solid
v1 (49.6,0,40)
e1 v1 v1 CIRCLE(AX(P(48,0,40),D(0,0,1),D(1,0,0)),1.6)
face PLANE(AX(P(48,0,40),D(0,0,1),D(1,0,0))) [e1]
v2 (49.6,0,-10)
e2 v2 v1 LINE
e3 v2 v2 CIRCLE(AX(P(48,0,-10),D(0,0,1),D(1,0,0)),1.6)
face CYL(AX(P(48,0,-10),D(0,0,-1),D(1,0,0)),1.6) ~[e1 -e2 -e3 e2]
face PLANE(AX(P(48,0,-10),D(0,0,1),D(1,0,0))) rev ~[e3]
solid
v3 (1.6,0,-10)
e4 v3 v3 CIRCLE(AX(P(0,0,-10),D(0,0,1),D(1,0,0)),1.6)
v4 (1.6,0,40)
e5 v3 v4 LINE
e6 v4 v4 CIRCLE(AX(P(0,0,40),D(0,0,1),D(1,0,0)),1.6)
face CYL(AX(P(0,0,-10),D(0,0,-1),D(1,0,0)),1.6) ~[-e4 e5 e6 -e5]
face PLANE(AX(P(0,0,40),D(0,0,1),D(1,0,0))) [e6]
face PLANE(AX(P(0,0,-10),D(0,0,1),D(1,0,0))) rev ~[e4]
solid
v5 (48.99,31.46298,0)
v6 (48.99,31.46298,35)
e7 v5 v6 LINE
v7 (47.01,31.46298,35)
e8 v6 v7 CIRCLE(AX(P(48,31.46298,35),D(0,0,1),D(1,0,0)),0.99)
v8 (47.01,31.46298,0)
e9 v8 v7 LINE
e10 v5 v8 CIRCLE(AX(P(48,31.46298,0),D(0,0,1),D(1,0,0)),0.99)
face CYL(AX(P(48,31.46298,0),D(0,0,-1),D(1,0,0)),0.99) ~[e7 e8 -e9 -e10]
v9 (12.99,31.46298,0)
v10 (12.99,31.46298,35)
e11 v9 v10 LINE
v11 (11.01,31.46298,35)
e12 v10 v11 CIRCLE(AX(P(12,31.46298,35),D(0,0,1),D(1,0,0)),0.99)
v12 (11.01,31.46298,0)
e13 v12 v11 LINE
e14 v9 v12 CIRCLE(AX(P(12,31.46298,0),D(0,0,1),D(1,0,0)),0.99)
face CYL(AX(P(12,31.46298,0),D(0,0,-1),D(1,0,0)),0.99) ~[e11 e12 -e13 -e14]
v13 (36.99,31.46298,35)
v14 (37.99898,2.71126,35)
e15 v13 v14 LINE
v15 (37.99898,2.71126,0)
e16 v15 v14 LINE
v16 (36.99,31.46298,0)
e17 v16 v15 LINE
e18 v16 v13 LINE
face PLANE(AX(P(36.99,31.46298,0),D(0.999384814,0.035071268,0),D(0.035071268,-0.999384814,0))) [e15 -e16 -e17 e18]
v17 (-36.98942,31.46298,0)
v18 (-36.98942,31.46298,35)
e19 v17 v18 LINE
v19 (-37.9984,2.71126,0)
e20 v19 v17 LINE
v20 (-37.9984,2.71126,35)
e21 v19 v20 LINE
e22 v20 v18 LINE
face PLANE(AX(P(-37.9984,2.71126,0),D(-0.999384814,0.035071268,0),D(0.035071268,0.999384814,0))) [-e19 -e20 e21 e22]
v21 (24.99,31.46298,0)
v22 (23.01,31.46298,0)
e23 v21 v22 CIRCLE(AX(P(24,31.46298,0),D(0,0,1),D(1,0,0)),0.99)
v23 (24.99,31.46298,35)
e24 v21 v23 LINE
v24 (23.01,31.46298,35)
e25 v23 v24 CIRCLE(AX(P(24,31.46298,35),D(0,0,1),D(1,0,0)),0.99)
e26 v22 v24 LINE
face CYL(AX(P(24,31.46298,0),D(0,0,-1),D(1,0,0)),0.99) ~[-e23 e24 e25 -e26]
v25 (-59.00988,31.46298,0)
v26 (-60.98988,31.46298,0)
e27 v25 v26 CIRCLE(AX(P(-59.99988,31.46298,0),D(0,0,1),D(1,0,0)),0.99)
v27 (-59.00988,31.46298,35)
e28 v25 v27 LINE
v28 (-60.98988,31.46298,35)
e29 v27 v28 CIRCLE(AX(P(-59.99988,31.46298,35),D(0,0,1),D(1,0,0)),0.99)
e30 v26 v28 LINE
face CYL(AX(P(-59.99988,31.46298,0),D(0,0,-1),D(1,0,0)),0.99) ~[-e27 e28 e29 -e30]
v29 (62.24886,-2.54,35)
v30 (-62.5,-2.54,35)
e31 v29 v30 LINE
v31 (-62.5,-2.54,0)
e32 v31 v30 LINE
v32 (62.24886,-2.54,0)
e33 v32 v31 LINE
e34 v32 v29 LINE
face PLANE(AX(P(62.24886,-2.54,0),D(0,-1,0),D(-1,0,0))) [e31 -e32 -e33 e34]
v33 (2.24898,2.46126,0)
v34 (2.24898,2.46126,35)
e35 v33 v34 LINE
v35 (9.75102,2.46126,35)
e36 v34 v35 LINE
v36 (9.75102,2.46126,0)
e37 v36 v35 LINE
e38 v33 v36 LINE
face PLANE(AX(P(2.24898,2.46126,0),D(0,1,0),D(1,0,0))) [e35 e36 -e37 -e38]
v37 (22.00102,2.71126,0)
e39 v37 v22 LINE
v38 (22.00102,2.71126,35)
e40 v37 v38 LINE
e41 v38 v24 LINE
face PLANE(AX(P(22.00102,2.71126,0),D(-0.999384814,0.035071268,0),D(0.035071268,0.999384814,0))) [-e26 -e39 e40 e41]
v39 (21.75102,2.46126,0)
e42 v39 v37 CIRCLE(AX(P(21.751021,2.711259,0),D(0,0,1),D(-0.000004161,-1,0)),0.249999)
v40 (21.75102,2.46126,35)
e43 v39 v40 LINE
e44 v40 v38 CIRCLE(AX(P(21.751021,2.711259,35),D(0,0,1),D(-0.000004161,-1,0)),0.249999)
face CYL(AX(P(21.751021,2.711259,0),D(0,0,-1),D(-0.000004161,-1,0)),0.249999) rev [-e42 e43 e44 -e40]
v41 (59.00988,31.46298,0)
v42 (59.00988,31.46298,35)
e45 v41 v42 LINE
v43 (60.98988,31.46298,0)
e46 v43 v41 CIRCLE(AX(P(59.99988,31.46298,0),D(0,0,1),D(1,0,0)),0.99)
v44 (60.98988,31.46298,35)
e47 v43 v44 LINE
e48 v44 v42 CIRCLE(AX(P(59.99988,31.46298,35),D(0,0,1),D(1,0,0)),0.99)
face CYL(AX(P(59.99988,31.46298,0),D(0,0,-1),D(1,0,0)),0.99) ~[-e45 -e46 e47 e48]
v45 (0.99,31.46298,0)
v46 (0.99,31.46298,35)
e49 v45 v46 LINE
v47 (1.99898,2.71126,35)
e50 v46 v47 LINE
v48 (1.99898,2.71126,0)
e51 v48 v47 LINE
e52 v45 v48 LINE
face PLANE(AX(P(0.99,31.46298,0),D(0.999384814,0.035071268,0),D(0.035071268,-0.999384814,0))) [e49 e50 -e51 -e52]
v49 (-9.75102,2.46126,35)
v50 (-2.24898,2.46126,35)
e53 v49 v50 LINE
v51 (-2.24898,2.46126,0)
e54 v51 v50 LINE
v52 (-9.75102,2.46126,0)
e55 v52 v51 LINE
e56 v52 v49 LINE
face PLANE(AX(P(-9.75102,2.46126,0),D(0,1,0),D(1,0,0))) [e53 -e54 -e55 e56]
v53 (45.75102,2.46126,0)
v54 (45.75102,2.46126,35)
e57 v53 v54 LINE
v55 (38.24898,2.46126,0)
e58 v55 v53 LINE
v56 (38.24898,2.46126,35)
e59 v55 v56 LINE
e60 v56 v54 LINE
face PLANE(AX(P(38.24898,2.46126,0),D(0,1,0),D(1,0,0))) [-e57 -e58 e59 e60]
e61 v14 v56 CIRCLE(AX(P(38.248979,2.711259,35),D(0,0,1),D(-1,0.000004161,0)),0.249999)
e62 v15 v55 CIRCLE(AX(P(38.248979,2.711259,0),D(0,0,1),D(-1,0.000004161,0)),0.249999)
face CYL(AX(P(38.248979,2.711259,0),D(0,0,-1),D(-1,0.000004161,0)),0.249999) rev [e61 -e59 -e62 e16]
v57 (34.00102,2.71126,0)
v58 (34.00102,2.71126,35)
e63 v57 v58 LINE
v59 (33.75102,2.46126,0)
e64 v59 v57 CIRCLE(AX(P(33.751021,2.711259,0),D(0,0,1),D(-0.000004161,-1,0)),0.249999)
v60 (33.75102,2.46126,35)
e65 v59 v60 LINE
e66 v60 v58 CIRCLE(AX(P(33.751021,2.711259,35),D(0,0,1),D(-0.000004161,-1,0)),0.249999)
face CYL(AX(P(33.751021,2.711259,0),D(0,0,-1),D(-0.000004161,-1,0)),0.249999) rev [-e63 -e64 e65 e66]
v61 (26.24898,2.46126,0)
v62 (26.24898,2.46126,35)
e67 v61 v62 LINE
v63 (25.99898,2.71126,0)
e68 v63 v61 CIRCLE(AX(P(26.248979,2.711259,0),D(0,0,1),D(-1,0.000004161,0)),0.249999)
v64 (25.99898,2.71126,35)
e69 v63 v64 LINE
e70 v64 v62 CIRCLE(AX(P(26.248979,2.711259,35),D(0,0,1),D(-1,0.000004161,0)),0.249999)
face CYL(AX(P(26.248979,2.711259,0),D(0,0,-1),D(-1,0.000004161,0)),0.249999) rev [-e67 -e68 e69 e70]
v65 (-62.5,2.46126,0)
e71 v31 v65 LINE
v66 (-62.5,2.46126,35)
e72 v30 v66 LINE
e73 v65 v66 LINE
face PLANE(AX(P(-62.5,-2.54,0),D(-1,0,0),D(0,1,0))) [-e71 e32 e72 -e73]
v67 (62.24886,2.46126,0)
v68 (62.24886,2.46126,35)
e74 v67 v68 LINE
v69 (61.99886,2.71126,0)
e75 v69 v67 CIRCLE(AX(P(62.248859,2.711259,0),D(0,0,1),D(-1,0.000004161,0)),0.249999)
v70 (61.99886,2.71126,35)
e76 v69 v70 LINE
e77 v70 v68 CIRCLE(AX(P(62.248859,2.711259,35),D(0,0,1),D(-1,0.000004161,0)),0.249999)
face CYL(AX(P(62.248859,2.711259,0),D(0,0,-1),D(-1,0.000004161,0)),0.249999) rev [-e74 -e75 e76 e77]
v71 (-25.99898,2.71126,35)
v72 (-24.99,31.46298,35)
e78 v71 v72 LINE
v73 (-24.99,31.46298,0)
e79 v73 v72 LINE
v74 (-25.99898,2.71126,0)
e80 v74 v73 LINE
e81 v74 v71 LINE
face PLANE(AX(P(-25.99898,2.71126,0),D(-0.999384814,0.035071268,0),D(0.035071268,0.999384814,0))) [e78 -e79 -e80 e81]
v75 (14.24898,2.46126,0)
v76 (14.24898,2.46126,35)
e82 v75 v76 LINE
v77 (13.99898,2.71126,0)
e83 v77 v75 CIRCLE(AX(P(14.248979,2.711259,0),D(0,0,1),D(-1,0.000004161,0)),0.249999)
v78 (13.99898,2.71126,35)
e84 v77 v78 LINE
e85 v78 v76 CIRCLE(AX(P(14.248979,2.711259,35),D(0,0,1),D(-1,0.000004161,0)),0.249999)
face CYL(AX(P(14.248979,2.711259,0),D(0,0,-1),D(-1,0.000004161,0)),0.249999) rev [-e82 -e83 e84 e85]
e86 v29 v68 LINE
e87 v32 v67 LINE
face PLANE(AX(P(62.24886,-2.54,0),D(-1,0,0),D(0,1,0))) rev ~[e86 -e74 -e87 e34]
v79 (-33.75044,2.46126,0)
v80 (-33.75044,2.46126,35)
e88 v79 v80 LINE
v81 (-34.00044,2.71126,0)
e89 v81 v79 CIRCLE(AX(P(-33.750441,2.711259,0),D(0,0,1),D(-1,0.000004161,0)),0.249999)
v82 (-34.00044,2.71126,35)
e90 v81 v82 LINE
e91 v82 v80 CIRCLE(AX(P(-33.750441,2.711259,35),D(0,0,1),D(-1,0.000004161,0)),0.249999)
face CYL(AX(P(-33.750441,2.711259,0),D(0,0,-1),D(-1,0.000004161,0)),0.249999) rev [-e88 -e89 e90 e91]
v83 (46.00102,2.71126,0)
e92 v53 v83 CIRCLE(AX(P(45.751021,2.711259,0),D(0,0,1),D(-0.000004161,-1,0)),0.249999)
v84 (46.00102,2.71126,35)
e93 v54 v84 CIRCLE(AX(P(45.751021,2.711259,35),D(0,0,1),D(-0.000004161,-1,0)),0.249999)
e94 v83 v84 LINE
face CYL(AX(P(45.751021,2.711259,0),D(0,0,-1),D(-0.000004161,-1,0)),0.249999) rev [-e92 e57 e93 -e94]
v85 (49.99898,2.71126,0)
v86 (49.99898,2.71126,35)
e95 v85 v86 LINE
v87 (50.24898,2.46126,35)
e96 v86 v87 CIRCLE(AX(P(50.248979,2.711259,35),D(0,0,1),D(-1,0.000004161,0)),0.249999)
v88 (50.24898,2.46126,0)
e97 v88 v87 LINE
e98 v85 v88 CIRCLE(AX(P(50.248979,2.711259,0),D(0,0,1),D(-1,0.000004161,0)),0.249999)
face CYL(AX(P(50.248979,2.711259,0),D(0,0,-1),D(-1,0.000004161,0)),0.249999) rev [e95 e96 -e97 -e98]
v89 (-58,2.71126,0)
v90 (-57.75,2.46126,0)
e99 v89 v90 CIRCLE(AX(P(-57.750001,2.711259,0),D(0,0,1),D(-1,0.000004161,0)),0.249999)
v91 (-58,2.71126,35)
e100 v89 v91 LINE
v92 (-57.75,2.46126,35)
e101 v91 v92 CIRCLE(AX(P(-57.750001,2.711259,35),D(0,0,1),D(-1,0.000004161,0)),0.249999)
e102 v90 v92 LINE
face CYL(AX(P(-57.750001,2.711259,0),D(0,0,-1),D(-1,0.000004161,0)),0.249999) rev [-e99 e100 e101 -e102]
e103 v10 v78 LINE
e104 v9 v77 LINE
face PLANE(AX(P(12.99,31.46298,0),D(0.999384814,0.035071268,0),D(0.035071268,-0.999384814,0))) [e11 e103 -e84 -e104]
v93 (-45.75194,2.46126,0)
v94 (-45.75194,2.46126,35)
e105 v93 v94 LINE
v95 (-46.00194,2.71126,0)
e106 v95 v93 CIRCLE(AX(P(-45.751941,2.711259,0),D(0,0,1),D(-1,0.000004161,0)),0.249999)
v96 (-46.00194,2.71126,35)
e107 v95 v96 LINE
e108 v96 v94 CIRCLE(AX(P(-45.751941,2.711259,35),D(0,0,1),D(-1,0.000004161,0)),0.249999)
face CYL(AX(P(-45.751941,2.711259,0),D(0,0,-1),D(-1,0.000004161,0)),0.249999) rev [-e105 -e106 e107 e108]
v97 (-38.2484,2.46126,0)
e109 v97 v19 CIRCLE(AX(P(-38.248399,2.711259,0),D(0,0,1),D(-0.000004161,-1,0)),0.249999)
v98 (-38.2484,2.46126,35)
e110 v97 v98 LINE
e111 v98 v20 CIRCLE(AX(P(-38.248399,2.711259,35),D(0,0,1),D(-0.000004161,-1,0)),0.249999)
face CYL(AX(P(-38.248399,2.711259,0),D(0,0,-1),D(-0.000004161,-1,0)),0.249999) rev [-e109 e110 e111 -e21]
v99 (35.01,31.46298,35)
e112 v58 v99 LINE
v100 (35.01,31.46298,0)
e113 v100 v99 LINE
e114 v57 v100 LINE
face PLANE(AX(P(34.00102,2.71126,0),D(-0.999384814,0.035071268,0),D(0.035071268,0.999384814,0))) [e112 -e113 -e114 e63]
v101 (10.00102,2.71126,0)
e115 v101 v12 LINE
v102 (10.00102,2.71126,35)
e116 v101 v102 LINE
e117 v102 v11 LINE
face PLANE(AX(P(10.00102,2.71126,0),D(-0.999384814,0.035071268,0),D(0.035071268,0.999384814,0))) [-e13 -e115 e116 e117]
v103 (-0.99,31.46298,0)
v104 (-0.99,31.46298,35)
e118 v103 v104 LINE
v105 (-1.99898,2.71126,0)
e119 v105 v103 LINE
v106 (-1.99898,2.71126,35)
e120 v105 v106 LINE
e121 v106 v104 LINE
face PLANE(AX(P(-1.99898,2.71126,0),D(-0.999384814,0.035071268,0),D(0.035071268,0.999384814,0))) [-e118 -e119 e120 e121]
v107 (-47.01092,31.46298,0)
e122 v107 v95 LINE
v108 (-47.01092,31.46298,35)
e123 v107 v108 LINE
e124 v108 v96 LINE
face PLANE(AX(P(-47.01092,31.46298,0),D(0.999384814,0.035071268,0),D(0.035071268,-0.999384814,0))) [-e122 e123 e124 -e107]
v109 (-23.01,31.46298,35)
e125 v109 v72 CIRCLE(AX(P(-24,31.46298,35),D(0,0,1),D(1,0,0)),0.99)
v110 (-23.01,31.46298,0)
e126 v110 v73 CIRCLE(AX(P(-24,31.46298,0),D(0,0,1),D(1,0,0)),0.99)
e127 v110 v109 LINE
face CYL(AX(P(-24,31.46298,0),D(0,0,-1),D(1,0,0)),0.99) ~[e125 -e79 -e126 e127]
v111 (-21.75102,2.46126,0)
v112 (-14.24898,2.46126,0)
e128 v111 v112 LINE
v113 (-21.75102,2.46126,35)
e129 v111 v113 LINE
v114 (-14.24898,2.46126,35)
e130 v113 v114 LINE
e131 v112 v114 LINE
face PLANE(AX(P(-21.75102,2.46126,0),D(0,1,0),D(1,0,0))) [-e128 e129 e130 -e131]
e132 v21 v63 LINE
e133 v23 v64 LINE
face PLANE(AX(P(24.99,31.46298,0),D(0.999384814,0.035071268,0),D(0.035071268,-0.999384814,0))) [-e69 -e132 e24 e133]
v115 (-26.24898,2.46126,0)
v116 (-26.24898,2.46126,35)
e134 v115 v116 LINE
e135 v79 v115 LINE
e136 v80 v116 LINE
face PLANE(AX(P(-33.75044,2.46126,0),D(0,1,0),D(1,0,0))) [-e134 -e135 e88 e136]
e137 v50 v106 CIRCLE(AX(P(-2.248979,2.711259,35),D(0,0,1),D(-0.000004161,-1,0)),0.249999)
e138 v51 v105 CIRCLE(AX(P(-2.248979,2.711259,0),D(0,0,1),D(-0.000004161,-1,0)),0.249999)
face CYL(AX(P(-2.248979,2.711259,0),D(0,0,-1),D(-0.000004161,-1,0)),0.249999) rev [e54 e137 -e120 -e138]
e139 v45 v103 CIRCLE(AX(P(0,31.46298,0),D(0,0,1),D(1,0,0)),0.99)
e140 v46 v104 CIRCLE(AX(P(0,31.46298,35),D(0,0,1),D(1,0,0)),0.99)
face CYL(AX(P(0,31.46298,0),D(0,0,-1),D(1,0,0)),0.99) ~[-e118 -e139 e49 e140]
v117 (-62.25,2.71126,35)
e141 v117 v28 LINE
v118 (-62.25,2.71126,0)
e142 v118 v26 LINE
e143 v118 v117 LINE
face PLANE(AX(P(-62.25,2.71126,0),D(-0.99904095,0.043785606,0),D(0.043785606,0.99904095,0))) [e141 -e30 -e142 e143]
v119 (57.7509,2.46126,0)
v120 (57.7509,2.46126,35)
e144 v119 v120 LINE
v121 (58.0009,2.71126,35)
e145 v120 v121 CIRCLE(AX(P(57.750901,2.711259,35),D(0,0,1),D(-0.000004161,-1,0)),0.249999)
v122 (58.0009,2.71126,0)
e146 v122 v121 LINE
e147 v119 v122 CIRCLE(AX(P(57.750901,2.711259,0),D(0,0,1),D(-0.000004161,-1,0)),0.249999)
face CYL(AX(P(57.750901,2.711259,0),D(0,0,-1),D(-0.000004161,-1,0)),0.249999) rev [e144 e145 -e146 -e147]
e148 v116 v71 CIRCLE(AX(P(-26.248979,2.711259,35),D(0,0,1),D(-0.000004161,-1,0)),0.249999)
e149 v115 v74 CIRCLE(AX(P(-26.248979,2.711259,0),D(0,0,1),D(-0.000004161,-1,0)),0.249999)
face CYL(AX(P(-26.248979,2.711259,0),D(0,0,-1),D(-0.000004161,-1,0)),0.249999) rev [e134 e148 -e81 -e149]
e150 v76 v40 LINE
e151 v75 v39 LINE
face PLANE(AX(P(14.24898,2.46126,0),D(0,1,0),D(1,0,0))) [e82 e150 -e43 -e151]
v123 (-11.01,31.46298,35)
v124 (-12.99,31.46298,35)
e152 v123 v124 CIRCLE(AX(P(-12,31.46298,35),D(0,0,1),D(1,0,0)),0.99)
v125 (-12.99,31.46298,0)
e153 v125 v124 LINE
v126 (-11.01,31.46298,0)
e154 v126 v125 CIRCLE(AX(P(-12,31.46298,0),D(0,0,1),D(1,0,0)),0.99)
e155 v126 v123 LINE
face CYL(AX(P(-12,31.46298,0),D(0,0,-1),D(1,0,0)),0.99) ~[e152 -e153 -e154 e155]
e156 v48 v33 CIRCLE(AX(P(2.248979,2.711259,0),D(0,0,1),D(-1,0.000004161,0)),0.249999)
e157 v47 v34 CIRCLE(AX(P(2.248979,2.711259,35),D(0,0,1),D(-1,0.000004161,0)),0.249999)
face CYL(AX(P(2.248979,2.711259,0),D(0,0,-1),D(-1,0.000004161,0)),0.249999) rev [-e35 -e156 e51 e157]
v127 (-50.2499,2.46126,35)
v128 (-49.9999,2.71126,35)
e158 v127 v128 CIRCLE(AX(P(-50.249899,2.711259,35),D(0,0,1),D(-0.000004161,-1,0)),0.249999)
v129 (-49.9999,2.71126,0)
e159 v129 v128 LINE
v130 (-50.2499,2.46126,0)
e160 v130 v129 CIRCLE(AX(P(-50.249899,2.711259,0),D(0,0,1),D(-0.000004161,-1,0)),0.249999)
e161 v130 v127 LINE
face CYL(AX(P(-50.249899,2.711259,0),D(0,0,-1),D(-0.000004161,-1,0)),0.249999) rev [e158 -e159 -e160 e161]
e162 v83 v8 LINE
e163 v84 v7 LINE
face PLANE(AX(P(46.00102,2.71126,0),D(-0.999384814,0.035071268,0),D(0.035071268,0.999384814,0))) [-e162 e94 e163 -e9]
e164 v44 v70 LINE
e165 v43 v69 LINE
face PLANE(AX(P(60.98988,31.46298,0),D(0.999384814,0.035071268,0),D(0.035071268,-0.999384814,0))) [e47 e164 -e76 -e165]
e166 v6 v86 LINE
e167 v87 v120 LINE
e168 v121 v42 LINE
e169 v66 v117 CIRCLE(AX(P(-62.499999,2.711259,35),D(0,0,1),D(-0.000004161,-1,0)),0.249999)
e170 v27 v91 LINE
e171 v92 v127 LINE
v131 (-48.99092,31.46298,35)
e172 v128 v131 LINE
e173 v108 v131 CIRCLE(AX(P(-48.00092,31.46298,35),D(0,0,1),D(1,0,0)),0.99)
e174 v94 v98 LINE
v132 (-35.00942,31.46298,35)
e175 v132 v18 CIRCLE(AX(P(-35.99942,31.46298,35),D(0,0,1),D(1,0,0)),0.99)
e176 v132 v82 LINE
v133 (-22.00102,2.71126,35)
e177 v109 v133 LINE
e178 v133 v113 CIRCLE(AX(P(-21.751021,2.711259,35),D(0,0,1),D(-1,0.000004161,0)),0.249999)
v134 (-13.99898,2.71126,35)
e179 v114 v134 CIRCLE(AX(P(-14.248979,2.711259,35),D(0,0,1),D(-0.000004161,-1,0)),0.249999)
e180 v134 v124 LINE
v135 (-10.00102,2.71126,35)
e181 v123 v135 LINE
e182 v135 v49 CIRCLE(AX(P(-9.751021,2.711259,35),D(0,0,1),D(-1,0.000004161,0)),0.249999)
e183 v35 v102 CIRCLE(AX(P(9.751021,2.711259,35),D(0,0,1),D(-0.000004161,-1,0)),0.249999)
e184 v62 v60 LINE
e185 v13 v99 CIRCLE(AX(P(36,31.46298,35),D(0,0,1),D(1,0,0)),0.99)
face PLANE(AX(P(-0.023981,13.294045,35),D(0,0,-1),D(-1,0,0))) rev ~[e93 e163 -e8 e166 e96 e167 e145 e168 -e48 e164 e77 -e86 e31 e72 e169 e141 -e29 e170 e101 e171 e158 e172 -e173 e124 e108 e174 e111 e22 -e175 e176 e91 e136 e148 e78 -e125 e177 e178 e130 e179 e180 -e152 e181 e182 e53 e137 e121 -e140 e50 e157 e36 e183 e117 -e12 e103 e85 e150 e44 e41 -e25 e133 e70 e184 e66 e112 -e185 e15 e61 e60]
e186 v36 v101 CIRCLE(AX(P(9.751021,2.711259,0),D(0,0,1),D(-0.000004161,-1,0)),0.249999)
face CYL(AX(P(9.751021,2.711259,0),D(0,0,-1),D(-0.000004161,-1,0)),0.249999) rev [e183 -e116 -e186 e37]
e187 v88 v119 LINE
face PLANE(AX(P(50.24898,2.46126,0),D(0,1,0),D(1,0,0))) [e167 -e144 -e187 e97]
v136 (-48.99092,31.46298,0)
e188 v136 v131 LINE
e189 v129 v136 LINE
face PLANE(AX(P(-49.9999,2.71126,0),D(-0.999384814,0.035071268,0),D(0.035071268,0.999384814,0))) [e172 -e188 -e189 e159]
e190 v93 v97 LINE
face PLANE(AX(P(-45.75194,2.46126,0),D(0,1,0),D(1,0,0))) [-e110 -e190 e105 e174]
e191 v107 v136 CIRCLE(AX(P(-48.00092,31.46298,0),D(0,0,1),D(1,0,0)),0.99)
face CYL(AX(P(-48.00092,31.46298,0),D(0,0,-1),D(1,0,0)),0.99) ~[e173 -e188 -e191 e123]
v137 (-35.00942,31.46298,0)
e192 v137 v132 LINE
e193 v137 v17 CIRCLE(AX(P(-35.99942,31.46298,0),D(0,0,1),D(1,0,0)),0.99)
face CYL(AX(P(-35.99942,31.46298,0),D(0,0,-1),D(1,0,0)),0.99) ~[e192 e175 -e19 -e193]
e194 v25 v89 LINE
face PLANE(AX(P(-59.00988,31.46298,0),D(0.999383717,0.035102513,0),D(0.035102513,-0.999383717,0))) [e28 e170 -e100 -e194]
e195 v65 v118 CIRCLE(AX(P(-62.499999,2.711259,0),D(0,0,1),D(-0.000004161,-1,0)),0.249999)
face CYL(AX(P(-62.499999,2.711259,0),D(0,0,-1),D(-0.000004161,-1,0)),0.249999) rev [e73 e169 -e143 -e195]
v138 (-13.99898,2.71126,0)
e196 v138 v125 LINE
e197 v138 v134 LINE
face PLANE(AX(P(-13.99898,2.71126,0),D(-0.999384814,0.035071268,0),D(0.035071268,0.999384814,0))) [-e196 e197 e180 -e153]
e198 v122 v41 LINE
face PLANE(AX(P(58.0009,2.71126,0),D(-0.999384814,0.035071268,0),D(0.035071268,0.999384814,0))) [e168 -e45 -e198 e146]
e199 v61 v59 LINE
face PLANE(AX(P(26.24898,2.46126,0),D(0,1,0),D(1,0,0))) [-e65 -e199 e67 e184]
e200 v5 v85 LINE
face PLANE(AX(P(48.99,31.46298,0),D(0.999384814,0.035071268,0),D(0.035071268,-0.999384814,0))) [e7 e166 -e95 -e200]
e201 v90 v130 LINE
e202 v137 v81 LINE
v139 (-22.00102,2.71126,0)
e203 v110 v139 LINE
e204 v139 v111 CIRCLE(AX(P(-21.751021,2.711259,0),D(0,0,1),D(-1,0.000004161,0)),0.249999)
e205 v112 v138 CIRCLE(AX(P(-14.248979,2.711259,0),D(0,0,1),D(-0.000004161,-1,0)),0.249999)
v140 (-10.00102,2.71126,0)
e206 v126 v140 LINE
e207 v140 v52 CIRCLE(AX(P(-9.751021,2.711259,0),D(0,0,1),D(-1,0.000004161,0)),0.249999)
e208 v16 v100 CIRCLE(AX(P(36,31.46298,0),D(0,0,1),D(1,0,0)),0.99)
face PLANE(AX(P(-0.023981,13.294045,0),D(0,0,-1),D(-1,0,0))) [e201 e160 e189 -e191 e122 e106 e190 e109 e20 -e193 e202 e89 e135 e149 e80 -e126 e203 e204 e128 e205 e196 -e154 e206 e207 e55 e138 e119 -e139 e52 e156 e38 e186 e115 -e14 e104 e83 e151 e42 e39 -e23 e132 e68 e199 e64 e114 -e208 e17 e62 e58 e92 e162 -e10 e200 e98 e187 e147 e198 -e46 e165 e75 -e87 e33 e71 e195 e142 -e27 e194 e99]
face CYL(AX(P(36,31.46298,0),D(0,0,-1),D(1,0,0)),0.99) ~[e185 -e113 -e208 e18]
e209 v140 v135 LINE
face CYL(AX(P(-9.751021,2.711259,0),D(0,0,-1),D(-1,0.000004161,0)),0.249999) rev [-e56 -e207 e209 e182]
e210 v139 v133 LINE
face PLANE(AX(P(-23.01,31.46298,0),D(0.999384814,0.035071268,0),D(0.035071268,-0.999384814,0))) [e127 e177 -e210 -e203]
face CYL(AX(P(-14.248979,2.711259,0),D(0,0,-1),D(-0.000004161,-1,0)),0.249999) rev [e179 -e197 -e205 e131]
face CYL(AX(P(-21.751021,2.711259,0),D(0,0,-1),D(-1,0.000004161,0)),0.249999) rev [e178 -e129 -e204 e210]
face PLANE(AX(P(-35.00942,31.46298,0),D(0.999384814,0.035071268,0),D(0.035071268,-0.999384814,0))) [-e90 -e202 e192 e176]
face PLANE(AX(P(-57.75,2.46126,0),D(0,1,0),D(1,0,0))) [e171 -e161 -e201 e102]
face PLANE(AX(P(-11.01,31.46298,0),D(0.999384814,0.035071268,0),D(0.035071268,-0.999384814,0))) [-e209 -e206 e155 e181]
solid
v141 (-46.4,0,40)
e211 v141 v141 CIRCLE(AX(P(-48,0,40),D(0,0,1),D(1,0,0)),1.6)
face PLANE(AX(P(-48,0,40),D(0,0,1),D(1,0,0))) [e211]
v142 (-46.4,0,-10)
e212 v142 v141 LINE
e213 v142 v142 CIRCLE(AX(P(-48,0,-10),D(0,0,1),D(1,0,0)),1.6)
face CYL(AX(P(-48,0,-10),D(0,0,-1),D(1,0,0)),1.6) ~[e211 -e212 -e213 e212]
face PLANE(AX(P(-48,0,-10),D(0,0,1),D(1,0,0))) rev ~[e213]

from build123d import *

# Parameters (mm, degrees)
PAD_DEPTH         = 35
CYLINDER_R        = 1.6
CYLINDER_DEPTH    = 50
CYLINDER001_R     = 1.6
CYLINDER001_DEPTH = 50
CYLINDER002_R     = 1.6
CYLINDER002_DEPTH = 50


with BuildPart() as body:
    # Sketch → Pad (new body)
    with BuildSketch(Plane.XY):
        with BuildLine():
            Line((62.24886, -2.54), (-62.5, -2.54))
            Line((-62.5, -2.54), (-62.5, 2.46126))
            ThreePointArc((-62.5, 2.46126), (-62.323223, 2.534483), (-62.25, 2.71126))
            Line((-62.25, 2.71126), (-60.98988, 31.46298))
            ThreePointArc((-59.00988, 31.46298), (-59.99988, 32.45298), (-60.98988, 31.46298))
            Line((-59.00988, 31.46298), (-58, 2.71126))
            ThreePointArc((-58, 2.71126), (-57.926777, 2.534483), (-57.75, 2.46126))
            Line((-57.75, 2.46126), (-50.2499, 2.46126))
            ThreePointArc((-50.2499, 2.46126), (-50.073123, 2.534483), (-49.9999, 2.71126))
            Line((-49.9999, 2.71126), (-48.99092, 31.46298))
            ThreePointArc((-47.01092, 31.46298), (-48.00092, 32.45298), (-48.99092, 31.46298))
            Line((-47.01092, 31.46298), (-46.00194, 2.71126))
            ThreePointArc((-46.00194, 2.71126), (-45.928717, 2.534483), (-45.75194, 2.46126))
            Line((-45.75194, 2.46126), (-38.2484, 2.46126))
            ThreePointArc((-38.2484, 2.46126), (-38.071623, 2.534483), (-37.9984, 2.71126))
            Line((-37.9984, 2.71126), (-36.98942, 31.46298))
            ThreePointArc((-35.00942, 31.46298), (-35.99942, 32.45298), (-36.98942, 31.46298))
            Line((-35.00942, 31.46298), (-34.00044, 2.71126))
            ThreePointArc((-34.00044, 2.71126), (-33.927217, 2.534483), (-33.75044, 2.46126))
            Line((-33.75044, 2.46126), (-26.24898, 2.46126))
            ThreePointArc((-26.24898, 2.46126), (-26.072203, 2.534483), (-25.99898, 2.71126))
            Line((-25.99898, 2.71126), (-24.99, 31.46298))
            ThreePointArc((-23.01, 31.46298), (-24, 32.45298), (-24.99, 31.46298))
            Line((-23.01, 31.46298), (-22.00102, 2.71126))
            ThreePointArc((-22.00102, 2.71126), (-21.927797, 2.534483), (-21.75102, 2.46126))
            Line((-21.75102, 2.46126), (-14.24898, 2.46126))
            ThreePointArc((-14.24898, 2.46126), (-14.072203, 2.534483), (-13.99898, 2.71126))
            Line((-13.99898, 2.71126), (-12.99, 31.46298))
            ThreePointArc((-11.01, 31.46298), (-12, 32.45298), (-12.99, 31.46298))
            Line((-11.01, 31.46298), (-10.00102, 2.71126))
            ThreePointArc((-10.00102, 2.71126), (-9.927797, 2.534483), (-9.75102, 2.46126))
            Line((-9.75102, 2.46126), (-2.24898, 2.46126))
            ThreePointArc((-2.24898, 2.46126), (-2.072203, 2.534483), (-1.99898, 2.71126))
            Line((-1.99898, 2.71126), (-0.99, 31.46298))
            ThreePointArc((0.99, 31.46298), (0, 32.45298), (-0.99, 31.46298))
            Line((0.99, 31.46298), (1.99898, 2.71126))
            ThreePointArc((1.99898, 2.71126), (2.072203, 2.534483), (2.24898, 2.46126))
            Line((2.24898, 2.46126), (9.75102, 2.46126))
            ThreePointArc((9.75102, 2.46126), (9.927797, 2.534483), (10.00102, 2.71126))
            Line((10.00102, 2.71126), (11.01, 31.46298))
            ThreePointArc((12.99, 31.46298), (12, 32.45298), (11.01, 31.46298))
            Line((12.99, 31.46298), (13.99898, 2.71126))
            ThreePointArc((13.99898, 2.71126), (14.072203, 2.534483), (14.24898, 2.46126))
            Line((14.24898, 2.46126), (21.75102, 2.46126))
            ThreePointArc((21.75102, 2.46126), (21.927797, 2.534483), (22.00102, 2.71126))
            Line((22.00102, 2.71126), (23.01, 31.46298))
            ThreePointArc((24.99, 31.46298), (24, 32.45298), (23.01, 31.46298))
            Line((24.99, 31.46298), (25.99898, 2.71126))
            ThreePointArc((25.99898, 2.71126), (26.072203, 2.534483), (26.24898, 2.46126))
            Line((26.24898, 2.46126), (33.75102, 2.46126))
            ThreePointArc((33.75102, 2.46126), (33.927797, 2.534483), (34.00102, 2.71126))
            Line((34.00102, 2.71126), (35.01, 31.46298))
            ThreePointArc((36.99, 31.46298), (36, 32.45298), (35.01, 31.46298))
            Line((36.99, 31.46298), (37.99898, 2.71126))
            ThreePointArc((37.99898, 2.71126), (38.072203, 2.534483), (38.24898, 2.46126))
            Line((38.24898, 2.46126), (45.75102, 2.46126))
            ThreePointArc((45.75102, 2.46126), (45.927797, 2.534483), (46.00102, 2.71126))
            Line((46.00102, 2.71126), (47.01, 31.46298))
            ThreePointArc((48.99, 31.46298), (48, 32.45298), (47.01, 31.46298))
            Line((48.99, 31.46298), (49.99898, 2.71126))
            ThreePointArc((49.99898, 2.71126), (50.072203, 2.534483), (50.24898, 2.46126))
            Line((50.24898, 2.46126), (57.7509, 2.46126))
            ThreePointArc((57.7509, 2.46126), (57.927677, 2.534483), (58.0009, 2.71126))
            Line((58.0009, 2.71126), (59.00988, 31.46298))
            ThreePointArc((60.98988, 31.46298), (59.99988, 32.45298), (59.00988, 31.46298))
            Line((60.98988, 31.46298), (61.99886, 2.71126))
            ThreePointArc((61.99886, 2.71126), (62.072083, 2.534483), (62.24886, 2.46126))
            Line((62.24886, -2.54), (62.24886, 2.46126))
        make_face()
    extrude(amount=PAD_DEPTH)


with BuildPart() as cylinder:
    # Cylinder → Cylinder (new body)
    with BuildSketch(Plane.XY.offset(-10)):
        Circle(CYLINDER_R)
    extrude(amount=CYLINDER_DEPTH)


with BuildPart() as cylinder001:
    # Cylinder001 → Cylinder001 (new body)
    with BuildSketch(Plane(origin=(-48, 0, -10), x_dir=(1, 0, 0), z_dir=(0, 0, 1))):
        Circle(CYLINDER001_R)
    extrude(amount=CYLINDER001_DEPTH)


with BuildPart() as cylinder002:
    # Cylinder002 → Cylinder002 (new body)
    with BuildSketch(Plane(origin=(48, 0, -10), x_dir=(1, 0, 0), z_dir=(0, 0, 1))):
        Circle(CYLINDER002_R)
    extrude(amount=CYLINDER002_DEPTH)


solid = Compound([body.part, cylinder.part, cylinder001.part, cylinder002.part])
